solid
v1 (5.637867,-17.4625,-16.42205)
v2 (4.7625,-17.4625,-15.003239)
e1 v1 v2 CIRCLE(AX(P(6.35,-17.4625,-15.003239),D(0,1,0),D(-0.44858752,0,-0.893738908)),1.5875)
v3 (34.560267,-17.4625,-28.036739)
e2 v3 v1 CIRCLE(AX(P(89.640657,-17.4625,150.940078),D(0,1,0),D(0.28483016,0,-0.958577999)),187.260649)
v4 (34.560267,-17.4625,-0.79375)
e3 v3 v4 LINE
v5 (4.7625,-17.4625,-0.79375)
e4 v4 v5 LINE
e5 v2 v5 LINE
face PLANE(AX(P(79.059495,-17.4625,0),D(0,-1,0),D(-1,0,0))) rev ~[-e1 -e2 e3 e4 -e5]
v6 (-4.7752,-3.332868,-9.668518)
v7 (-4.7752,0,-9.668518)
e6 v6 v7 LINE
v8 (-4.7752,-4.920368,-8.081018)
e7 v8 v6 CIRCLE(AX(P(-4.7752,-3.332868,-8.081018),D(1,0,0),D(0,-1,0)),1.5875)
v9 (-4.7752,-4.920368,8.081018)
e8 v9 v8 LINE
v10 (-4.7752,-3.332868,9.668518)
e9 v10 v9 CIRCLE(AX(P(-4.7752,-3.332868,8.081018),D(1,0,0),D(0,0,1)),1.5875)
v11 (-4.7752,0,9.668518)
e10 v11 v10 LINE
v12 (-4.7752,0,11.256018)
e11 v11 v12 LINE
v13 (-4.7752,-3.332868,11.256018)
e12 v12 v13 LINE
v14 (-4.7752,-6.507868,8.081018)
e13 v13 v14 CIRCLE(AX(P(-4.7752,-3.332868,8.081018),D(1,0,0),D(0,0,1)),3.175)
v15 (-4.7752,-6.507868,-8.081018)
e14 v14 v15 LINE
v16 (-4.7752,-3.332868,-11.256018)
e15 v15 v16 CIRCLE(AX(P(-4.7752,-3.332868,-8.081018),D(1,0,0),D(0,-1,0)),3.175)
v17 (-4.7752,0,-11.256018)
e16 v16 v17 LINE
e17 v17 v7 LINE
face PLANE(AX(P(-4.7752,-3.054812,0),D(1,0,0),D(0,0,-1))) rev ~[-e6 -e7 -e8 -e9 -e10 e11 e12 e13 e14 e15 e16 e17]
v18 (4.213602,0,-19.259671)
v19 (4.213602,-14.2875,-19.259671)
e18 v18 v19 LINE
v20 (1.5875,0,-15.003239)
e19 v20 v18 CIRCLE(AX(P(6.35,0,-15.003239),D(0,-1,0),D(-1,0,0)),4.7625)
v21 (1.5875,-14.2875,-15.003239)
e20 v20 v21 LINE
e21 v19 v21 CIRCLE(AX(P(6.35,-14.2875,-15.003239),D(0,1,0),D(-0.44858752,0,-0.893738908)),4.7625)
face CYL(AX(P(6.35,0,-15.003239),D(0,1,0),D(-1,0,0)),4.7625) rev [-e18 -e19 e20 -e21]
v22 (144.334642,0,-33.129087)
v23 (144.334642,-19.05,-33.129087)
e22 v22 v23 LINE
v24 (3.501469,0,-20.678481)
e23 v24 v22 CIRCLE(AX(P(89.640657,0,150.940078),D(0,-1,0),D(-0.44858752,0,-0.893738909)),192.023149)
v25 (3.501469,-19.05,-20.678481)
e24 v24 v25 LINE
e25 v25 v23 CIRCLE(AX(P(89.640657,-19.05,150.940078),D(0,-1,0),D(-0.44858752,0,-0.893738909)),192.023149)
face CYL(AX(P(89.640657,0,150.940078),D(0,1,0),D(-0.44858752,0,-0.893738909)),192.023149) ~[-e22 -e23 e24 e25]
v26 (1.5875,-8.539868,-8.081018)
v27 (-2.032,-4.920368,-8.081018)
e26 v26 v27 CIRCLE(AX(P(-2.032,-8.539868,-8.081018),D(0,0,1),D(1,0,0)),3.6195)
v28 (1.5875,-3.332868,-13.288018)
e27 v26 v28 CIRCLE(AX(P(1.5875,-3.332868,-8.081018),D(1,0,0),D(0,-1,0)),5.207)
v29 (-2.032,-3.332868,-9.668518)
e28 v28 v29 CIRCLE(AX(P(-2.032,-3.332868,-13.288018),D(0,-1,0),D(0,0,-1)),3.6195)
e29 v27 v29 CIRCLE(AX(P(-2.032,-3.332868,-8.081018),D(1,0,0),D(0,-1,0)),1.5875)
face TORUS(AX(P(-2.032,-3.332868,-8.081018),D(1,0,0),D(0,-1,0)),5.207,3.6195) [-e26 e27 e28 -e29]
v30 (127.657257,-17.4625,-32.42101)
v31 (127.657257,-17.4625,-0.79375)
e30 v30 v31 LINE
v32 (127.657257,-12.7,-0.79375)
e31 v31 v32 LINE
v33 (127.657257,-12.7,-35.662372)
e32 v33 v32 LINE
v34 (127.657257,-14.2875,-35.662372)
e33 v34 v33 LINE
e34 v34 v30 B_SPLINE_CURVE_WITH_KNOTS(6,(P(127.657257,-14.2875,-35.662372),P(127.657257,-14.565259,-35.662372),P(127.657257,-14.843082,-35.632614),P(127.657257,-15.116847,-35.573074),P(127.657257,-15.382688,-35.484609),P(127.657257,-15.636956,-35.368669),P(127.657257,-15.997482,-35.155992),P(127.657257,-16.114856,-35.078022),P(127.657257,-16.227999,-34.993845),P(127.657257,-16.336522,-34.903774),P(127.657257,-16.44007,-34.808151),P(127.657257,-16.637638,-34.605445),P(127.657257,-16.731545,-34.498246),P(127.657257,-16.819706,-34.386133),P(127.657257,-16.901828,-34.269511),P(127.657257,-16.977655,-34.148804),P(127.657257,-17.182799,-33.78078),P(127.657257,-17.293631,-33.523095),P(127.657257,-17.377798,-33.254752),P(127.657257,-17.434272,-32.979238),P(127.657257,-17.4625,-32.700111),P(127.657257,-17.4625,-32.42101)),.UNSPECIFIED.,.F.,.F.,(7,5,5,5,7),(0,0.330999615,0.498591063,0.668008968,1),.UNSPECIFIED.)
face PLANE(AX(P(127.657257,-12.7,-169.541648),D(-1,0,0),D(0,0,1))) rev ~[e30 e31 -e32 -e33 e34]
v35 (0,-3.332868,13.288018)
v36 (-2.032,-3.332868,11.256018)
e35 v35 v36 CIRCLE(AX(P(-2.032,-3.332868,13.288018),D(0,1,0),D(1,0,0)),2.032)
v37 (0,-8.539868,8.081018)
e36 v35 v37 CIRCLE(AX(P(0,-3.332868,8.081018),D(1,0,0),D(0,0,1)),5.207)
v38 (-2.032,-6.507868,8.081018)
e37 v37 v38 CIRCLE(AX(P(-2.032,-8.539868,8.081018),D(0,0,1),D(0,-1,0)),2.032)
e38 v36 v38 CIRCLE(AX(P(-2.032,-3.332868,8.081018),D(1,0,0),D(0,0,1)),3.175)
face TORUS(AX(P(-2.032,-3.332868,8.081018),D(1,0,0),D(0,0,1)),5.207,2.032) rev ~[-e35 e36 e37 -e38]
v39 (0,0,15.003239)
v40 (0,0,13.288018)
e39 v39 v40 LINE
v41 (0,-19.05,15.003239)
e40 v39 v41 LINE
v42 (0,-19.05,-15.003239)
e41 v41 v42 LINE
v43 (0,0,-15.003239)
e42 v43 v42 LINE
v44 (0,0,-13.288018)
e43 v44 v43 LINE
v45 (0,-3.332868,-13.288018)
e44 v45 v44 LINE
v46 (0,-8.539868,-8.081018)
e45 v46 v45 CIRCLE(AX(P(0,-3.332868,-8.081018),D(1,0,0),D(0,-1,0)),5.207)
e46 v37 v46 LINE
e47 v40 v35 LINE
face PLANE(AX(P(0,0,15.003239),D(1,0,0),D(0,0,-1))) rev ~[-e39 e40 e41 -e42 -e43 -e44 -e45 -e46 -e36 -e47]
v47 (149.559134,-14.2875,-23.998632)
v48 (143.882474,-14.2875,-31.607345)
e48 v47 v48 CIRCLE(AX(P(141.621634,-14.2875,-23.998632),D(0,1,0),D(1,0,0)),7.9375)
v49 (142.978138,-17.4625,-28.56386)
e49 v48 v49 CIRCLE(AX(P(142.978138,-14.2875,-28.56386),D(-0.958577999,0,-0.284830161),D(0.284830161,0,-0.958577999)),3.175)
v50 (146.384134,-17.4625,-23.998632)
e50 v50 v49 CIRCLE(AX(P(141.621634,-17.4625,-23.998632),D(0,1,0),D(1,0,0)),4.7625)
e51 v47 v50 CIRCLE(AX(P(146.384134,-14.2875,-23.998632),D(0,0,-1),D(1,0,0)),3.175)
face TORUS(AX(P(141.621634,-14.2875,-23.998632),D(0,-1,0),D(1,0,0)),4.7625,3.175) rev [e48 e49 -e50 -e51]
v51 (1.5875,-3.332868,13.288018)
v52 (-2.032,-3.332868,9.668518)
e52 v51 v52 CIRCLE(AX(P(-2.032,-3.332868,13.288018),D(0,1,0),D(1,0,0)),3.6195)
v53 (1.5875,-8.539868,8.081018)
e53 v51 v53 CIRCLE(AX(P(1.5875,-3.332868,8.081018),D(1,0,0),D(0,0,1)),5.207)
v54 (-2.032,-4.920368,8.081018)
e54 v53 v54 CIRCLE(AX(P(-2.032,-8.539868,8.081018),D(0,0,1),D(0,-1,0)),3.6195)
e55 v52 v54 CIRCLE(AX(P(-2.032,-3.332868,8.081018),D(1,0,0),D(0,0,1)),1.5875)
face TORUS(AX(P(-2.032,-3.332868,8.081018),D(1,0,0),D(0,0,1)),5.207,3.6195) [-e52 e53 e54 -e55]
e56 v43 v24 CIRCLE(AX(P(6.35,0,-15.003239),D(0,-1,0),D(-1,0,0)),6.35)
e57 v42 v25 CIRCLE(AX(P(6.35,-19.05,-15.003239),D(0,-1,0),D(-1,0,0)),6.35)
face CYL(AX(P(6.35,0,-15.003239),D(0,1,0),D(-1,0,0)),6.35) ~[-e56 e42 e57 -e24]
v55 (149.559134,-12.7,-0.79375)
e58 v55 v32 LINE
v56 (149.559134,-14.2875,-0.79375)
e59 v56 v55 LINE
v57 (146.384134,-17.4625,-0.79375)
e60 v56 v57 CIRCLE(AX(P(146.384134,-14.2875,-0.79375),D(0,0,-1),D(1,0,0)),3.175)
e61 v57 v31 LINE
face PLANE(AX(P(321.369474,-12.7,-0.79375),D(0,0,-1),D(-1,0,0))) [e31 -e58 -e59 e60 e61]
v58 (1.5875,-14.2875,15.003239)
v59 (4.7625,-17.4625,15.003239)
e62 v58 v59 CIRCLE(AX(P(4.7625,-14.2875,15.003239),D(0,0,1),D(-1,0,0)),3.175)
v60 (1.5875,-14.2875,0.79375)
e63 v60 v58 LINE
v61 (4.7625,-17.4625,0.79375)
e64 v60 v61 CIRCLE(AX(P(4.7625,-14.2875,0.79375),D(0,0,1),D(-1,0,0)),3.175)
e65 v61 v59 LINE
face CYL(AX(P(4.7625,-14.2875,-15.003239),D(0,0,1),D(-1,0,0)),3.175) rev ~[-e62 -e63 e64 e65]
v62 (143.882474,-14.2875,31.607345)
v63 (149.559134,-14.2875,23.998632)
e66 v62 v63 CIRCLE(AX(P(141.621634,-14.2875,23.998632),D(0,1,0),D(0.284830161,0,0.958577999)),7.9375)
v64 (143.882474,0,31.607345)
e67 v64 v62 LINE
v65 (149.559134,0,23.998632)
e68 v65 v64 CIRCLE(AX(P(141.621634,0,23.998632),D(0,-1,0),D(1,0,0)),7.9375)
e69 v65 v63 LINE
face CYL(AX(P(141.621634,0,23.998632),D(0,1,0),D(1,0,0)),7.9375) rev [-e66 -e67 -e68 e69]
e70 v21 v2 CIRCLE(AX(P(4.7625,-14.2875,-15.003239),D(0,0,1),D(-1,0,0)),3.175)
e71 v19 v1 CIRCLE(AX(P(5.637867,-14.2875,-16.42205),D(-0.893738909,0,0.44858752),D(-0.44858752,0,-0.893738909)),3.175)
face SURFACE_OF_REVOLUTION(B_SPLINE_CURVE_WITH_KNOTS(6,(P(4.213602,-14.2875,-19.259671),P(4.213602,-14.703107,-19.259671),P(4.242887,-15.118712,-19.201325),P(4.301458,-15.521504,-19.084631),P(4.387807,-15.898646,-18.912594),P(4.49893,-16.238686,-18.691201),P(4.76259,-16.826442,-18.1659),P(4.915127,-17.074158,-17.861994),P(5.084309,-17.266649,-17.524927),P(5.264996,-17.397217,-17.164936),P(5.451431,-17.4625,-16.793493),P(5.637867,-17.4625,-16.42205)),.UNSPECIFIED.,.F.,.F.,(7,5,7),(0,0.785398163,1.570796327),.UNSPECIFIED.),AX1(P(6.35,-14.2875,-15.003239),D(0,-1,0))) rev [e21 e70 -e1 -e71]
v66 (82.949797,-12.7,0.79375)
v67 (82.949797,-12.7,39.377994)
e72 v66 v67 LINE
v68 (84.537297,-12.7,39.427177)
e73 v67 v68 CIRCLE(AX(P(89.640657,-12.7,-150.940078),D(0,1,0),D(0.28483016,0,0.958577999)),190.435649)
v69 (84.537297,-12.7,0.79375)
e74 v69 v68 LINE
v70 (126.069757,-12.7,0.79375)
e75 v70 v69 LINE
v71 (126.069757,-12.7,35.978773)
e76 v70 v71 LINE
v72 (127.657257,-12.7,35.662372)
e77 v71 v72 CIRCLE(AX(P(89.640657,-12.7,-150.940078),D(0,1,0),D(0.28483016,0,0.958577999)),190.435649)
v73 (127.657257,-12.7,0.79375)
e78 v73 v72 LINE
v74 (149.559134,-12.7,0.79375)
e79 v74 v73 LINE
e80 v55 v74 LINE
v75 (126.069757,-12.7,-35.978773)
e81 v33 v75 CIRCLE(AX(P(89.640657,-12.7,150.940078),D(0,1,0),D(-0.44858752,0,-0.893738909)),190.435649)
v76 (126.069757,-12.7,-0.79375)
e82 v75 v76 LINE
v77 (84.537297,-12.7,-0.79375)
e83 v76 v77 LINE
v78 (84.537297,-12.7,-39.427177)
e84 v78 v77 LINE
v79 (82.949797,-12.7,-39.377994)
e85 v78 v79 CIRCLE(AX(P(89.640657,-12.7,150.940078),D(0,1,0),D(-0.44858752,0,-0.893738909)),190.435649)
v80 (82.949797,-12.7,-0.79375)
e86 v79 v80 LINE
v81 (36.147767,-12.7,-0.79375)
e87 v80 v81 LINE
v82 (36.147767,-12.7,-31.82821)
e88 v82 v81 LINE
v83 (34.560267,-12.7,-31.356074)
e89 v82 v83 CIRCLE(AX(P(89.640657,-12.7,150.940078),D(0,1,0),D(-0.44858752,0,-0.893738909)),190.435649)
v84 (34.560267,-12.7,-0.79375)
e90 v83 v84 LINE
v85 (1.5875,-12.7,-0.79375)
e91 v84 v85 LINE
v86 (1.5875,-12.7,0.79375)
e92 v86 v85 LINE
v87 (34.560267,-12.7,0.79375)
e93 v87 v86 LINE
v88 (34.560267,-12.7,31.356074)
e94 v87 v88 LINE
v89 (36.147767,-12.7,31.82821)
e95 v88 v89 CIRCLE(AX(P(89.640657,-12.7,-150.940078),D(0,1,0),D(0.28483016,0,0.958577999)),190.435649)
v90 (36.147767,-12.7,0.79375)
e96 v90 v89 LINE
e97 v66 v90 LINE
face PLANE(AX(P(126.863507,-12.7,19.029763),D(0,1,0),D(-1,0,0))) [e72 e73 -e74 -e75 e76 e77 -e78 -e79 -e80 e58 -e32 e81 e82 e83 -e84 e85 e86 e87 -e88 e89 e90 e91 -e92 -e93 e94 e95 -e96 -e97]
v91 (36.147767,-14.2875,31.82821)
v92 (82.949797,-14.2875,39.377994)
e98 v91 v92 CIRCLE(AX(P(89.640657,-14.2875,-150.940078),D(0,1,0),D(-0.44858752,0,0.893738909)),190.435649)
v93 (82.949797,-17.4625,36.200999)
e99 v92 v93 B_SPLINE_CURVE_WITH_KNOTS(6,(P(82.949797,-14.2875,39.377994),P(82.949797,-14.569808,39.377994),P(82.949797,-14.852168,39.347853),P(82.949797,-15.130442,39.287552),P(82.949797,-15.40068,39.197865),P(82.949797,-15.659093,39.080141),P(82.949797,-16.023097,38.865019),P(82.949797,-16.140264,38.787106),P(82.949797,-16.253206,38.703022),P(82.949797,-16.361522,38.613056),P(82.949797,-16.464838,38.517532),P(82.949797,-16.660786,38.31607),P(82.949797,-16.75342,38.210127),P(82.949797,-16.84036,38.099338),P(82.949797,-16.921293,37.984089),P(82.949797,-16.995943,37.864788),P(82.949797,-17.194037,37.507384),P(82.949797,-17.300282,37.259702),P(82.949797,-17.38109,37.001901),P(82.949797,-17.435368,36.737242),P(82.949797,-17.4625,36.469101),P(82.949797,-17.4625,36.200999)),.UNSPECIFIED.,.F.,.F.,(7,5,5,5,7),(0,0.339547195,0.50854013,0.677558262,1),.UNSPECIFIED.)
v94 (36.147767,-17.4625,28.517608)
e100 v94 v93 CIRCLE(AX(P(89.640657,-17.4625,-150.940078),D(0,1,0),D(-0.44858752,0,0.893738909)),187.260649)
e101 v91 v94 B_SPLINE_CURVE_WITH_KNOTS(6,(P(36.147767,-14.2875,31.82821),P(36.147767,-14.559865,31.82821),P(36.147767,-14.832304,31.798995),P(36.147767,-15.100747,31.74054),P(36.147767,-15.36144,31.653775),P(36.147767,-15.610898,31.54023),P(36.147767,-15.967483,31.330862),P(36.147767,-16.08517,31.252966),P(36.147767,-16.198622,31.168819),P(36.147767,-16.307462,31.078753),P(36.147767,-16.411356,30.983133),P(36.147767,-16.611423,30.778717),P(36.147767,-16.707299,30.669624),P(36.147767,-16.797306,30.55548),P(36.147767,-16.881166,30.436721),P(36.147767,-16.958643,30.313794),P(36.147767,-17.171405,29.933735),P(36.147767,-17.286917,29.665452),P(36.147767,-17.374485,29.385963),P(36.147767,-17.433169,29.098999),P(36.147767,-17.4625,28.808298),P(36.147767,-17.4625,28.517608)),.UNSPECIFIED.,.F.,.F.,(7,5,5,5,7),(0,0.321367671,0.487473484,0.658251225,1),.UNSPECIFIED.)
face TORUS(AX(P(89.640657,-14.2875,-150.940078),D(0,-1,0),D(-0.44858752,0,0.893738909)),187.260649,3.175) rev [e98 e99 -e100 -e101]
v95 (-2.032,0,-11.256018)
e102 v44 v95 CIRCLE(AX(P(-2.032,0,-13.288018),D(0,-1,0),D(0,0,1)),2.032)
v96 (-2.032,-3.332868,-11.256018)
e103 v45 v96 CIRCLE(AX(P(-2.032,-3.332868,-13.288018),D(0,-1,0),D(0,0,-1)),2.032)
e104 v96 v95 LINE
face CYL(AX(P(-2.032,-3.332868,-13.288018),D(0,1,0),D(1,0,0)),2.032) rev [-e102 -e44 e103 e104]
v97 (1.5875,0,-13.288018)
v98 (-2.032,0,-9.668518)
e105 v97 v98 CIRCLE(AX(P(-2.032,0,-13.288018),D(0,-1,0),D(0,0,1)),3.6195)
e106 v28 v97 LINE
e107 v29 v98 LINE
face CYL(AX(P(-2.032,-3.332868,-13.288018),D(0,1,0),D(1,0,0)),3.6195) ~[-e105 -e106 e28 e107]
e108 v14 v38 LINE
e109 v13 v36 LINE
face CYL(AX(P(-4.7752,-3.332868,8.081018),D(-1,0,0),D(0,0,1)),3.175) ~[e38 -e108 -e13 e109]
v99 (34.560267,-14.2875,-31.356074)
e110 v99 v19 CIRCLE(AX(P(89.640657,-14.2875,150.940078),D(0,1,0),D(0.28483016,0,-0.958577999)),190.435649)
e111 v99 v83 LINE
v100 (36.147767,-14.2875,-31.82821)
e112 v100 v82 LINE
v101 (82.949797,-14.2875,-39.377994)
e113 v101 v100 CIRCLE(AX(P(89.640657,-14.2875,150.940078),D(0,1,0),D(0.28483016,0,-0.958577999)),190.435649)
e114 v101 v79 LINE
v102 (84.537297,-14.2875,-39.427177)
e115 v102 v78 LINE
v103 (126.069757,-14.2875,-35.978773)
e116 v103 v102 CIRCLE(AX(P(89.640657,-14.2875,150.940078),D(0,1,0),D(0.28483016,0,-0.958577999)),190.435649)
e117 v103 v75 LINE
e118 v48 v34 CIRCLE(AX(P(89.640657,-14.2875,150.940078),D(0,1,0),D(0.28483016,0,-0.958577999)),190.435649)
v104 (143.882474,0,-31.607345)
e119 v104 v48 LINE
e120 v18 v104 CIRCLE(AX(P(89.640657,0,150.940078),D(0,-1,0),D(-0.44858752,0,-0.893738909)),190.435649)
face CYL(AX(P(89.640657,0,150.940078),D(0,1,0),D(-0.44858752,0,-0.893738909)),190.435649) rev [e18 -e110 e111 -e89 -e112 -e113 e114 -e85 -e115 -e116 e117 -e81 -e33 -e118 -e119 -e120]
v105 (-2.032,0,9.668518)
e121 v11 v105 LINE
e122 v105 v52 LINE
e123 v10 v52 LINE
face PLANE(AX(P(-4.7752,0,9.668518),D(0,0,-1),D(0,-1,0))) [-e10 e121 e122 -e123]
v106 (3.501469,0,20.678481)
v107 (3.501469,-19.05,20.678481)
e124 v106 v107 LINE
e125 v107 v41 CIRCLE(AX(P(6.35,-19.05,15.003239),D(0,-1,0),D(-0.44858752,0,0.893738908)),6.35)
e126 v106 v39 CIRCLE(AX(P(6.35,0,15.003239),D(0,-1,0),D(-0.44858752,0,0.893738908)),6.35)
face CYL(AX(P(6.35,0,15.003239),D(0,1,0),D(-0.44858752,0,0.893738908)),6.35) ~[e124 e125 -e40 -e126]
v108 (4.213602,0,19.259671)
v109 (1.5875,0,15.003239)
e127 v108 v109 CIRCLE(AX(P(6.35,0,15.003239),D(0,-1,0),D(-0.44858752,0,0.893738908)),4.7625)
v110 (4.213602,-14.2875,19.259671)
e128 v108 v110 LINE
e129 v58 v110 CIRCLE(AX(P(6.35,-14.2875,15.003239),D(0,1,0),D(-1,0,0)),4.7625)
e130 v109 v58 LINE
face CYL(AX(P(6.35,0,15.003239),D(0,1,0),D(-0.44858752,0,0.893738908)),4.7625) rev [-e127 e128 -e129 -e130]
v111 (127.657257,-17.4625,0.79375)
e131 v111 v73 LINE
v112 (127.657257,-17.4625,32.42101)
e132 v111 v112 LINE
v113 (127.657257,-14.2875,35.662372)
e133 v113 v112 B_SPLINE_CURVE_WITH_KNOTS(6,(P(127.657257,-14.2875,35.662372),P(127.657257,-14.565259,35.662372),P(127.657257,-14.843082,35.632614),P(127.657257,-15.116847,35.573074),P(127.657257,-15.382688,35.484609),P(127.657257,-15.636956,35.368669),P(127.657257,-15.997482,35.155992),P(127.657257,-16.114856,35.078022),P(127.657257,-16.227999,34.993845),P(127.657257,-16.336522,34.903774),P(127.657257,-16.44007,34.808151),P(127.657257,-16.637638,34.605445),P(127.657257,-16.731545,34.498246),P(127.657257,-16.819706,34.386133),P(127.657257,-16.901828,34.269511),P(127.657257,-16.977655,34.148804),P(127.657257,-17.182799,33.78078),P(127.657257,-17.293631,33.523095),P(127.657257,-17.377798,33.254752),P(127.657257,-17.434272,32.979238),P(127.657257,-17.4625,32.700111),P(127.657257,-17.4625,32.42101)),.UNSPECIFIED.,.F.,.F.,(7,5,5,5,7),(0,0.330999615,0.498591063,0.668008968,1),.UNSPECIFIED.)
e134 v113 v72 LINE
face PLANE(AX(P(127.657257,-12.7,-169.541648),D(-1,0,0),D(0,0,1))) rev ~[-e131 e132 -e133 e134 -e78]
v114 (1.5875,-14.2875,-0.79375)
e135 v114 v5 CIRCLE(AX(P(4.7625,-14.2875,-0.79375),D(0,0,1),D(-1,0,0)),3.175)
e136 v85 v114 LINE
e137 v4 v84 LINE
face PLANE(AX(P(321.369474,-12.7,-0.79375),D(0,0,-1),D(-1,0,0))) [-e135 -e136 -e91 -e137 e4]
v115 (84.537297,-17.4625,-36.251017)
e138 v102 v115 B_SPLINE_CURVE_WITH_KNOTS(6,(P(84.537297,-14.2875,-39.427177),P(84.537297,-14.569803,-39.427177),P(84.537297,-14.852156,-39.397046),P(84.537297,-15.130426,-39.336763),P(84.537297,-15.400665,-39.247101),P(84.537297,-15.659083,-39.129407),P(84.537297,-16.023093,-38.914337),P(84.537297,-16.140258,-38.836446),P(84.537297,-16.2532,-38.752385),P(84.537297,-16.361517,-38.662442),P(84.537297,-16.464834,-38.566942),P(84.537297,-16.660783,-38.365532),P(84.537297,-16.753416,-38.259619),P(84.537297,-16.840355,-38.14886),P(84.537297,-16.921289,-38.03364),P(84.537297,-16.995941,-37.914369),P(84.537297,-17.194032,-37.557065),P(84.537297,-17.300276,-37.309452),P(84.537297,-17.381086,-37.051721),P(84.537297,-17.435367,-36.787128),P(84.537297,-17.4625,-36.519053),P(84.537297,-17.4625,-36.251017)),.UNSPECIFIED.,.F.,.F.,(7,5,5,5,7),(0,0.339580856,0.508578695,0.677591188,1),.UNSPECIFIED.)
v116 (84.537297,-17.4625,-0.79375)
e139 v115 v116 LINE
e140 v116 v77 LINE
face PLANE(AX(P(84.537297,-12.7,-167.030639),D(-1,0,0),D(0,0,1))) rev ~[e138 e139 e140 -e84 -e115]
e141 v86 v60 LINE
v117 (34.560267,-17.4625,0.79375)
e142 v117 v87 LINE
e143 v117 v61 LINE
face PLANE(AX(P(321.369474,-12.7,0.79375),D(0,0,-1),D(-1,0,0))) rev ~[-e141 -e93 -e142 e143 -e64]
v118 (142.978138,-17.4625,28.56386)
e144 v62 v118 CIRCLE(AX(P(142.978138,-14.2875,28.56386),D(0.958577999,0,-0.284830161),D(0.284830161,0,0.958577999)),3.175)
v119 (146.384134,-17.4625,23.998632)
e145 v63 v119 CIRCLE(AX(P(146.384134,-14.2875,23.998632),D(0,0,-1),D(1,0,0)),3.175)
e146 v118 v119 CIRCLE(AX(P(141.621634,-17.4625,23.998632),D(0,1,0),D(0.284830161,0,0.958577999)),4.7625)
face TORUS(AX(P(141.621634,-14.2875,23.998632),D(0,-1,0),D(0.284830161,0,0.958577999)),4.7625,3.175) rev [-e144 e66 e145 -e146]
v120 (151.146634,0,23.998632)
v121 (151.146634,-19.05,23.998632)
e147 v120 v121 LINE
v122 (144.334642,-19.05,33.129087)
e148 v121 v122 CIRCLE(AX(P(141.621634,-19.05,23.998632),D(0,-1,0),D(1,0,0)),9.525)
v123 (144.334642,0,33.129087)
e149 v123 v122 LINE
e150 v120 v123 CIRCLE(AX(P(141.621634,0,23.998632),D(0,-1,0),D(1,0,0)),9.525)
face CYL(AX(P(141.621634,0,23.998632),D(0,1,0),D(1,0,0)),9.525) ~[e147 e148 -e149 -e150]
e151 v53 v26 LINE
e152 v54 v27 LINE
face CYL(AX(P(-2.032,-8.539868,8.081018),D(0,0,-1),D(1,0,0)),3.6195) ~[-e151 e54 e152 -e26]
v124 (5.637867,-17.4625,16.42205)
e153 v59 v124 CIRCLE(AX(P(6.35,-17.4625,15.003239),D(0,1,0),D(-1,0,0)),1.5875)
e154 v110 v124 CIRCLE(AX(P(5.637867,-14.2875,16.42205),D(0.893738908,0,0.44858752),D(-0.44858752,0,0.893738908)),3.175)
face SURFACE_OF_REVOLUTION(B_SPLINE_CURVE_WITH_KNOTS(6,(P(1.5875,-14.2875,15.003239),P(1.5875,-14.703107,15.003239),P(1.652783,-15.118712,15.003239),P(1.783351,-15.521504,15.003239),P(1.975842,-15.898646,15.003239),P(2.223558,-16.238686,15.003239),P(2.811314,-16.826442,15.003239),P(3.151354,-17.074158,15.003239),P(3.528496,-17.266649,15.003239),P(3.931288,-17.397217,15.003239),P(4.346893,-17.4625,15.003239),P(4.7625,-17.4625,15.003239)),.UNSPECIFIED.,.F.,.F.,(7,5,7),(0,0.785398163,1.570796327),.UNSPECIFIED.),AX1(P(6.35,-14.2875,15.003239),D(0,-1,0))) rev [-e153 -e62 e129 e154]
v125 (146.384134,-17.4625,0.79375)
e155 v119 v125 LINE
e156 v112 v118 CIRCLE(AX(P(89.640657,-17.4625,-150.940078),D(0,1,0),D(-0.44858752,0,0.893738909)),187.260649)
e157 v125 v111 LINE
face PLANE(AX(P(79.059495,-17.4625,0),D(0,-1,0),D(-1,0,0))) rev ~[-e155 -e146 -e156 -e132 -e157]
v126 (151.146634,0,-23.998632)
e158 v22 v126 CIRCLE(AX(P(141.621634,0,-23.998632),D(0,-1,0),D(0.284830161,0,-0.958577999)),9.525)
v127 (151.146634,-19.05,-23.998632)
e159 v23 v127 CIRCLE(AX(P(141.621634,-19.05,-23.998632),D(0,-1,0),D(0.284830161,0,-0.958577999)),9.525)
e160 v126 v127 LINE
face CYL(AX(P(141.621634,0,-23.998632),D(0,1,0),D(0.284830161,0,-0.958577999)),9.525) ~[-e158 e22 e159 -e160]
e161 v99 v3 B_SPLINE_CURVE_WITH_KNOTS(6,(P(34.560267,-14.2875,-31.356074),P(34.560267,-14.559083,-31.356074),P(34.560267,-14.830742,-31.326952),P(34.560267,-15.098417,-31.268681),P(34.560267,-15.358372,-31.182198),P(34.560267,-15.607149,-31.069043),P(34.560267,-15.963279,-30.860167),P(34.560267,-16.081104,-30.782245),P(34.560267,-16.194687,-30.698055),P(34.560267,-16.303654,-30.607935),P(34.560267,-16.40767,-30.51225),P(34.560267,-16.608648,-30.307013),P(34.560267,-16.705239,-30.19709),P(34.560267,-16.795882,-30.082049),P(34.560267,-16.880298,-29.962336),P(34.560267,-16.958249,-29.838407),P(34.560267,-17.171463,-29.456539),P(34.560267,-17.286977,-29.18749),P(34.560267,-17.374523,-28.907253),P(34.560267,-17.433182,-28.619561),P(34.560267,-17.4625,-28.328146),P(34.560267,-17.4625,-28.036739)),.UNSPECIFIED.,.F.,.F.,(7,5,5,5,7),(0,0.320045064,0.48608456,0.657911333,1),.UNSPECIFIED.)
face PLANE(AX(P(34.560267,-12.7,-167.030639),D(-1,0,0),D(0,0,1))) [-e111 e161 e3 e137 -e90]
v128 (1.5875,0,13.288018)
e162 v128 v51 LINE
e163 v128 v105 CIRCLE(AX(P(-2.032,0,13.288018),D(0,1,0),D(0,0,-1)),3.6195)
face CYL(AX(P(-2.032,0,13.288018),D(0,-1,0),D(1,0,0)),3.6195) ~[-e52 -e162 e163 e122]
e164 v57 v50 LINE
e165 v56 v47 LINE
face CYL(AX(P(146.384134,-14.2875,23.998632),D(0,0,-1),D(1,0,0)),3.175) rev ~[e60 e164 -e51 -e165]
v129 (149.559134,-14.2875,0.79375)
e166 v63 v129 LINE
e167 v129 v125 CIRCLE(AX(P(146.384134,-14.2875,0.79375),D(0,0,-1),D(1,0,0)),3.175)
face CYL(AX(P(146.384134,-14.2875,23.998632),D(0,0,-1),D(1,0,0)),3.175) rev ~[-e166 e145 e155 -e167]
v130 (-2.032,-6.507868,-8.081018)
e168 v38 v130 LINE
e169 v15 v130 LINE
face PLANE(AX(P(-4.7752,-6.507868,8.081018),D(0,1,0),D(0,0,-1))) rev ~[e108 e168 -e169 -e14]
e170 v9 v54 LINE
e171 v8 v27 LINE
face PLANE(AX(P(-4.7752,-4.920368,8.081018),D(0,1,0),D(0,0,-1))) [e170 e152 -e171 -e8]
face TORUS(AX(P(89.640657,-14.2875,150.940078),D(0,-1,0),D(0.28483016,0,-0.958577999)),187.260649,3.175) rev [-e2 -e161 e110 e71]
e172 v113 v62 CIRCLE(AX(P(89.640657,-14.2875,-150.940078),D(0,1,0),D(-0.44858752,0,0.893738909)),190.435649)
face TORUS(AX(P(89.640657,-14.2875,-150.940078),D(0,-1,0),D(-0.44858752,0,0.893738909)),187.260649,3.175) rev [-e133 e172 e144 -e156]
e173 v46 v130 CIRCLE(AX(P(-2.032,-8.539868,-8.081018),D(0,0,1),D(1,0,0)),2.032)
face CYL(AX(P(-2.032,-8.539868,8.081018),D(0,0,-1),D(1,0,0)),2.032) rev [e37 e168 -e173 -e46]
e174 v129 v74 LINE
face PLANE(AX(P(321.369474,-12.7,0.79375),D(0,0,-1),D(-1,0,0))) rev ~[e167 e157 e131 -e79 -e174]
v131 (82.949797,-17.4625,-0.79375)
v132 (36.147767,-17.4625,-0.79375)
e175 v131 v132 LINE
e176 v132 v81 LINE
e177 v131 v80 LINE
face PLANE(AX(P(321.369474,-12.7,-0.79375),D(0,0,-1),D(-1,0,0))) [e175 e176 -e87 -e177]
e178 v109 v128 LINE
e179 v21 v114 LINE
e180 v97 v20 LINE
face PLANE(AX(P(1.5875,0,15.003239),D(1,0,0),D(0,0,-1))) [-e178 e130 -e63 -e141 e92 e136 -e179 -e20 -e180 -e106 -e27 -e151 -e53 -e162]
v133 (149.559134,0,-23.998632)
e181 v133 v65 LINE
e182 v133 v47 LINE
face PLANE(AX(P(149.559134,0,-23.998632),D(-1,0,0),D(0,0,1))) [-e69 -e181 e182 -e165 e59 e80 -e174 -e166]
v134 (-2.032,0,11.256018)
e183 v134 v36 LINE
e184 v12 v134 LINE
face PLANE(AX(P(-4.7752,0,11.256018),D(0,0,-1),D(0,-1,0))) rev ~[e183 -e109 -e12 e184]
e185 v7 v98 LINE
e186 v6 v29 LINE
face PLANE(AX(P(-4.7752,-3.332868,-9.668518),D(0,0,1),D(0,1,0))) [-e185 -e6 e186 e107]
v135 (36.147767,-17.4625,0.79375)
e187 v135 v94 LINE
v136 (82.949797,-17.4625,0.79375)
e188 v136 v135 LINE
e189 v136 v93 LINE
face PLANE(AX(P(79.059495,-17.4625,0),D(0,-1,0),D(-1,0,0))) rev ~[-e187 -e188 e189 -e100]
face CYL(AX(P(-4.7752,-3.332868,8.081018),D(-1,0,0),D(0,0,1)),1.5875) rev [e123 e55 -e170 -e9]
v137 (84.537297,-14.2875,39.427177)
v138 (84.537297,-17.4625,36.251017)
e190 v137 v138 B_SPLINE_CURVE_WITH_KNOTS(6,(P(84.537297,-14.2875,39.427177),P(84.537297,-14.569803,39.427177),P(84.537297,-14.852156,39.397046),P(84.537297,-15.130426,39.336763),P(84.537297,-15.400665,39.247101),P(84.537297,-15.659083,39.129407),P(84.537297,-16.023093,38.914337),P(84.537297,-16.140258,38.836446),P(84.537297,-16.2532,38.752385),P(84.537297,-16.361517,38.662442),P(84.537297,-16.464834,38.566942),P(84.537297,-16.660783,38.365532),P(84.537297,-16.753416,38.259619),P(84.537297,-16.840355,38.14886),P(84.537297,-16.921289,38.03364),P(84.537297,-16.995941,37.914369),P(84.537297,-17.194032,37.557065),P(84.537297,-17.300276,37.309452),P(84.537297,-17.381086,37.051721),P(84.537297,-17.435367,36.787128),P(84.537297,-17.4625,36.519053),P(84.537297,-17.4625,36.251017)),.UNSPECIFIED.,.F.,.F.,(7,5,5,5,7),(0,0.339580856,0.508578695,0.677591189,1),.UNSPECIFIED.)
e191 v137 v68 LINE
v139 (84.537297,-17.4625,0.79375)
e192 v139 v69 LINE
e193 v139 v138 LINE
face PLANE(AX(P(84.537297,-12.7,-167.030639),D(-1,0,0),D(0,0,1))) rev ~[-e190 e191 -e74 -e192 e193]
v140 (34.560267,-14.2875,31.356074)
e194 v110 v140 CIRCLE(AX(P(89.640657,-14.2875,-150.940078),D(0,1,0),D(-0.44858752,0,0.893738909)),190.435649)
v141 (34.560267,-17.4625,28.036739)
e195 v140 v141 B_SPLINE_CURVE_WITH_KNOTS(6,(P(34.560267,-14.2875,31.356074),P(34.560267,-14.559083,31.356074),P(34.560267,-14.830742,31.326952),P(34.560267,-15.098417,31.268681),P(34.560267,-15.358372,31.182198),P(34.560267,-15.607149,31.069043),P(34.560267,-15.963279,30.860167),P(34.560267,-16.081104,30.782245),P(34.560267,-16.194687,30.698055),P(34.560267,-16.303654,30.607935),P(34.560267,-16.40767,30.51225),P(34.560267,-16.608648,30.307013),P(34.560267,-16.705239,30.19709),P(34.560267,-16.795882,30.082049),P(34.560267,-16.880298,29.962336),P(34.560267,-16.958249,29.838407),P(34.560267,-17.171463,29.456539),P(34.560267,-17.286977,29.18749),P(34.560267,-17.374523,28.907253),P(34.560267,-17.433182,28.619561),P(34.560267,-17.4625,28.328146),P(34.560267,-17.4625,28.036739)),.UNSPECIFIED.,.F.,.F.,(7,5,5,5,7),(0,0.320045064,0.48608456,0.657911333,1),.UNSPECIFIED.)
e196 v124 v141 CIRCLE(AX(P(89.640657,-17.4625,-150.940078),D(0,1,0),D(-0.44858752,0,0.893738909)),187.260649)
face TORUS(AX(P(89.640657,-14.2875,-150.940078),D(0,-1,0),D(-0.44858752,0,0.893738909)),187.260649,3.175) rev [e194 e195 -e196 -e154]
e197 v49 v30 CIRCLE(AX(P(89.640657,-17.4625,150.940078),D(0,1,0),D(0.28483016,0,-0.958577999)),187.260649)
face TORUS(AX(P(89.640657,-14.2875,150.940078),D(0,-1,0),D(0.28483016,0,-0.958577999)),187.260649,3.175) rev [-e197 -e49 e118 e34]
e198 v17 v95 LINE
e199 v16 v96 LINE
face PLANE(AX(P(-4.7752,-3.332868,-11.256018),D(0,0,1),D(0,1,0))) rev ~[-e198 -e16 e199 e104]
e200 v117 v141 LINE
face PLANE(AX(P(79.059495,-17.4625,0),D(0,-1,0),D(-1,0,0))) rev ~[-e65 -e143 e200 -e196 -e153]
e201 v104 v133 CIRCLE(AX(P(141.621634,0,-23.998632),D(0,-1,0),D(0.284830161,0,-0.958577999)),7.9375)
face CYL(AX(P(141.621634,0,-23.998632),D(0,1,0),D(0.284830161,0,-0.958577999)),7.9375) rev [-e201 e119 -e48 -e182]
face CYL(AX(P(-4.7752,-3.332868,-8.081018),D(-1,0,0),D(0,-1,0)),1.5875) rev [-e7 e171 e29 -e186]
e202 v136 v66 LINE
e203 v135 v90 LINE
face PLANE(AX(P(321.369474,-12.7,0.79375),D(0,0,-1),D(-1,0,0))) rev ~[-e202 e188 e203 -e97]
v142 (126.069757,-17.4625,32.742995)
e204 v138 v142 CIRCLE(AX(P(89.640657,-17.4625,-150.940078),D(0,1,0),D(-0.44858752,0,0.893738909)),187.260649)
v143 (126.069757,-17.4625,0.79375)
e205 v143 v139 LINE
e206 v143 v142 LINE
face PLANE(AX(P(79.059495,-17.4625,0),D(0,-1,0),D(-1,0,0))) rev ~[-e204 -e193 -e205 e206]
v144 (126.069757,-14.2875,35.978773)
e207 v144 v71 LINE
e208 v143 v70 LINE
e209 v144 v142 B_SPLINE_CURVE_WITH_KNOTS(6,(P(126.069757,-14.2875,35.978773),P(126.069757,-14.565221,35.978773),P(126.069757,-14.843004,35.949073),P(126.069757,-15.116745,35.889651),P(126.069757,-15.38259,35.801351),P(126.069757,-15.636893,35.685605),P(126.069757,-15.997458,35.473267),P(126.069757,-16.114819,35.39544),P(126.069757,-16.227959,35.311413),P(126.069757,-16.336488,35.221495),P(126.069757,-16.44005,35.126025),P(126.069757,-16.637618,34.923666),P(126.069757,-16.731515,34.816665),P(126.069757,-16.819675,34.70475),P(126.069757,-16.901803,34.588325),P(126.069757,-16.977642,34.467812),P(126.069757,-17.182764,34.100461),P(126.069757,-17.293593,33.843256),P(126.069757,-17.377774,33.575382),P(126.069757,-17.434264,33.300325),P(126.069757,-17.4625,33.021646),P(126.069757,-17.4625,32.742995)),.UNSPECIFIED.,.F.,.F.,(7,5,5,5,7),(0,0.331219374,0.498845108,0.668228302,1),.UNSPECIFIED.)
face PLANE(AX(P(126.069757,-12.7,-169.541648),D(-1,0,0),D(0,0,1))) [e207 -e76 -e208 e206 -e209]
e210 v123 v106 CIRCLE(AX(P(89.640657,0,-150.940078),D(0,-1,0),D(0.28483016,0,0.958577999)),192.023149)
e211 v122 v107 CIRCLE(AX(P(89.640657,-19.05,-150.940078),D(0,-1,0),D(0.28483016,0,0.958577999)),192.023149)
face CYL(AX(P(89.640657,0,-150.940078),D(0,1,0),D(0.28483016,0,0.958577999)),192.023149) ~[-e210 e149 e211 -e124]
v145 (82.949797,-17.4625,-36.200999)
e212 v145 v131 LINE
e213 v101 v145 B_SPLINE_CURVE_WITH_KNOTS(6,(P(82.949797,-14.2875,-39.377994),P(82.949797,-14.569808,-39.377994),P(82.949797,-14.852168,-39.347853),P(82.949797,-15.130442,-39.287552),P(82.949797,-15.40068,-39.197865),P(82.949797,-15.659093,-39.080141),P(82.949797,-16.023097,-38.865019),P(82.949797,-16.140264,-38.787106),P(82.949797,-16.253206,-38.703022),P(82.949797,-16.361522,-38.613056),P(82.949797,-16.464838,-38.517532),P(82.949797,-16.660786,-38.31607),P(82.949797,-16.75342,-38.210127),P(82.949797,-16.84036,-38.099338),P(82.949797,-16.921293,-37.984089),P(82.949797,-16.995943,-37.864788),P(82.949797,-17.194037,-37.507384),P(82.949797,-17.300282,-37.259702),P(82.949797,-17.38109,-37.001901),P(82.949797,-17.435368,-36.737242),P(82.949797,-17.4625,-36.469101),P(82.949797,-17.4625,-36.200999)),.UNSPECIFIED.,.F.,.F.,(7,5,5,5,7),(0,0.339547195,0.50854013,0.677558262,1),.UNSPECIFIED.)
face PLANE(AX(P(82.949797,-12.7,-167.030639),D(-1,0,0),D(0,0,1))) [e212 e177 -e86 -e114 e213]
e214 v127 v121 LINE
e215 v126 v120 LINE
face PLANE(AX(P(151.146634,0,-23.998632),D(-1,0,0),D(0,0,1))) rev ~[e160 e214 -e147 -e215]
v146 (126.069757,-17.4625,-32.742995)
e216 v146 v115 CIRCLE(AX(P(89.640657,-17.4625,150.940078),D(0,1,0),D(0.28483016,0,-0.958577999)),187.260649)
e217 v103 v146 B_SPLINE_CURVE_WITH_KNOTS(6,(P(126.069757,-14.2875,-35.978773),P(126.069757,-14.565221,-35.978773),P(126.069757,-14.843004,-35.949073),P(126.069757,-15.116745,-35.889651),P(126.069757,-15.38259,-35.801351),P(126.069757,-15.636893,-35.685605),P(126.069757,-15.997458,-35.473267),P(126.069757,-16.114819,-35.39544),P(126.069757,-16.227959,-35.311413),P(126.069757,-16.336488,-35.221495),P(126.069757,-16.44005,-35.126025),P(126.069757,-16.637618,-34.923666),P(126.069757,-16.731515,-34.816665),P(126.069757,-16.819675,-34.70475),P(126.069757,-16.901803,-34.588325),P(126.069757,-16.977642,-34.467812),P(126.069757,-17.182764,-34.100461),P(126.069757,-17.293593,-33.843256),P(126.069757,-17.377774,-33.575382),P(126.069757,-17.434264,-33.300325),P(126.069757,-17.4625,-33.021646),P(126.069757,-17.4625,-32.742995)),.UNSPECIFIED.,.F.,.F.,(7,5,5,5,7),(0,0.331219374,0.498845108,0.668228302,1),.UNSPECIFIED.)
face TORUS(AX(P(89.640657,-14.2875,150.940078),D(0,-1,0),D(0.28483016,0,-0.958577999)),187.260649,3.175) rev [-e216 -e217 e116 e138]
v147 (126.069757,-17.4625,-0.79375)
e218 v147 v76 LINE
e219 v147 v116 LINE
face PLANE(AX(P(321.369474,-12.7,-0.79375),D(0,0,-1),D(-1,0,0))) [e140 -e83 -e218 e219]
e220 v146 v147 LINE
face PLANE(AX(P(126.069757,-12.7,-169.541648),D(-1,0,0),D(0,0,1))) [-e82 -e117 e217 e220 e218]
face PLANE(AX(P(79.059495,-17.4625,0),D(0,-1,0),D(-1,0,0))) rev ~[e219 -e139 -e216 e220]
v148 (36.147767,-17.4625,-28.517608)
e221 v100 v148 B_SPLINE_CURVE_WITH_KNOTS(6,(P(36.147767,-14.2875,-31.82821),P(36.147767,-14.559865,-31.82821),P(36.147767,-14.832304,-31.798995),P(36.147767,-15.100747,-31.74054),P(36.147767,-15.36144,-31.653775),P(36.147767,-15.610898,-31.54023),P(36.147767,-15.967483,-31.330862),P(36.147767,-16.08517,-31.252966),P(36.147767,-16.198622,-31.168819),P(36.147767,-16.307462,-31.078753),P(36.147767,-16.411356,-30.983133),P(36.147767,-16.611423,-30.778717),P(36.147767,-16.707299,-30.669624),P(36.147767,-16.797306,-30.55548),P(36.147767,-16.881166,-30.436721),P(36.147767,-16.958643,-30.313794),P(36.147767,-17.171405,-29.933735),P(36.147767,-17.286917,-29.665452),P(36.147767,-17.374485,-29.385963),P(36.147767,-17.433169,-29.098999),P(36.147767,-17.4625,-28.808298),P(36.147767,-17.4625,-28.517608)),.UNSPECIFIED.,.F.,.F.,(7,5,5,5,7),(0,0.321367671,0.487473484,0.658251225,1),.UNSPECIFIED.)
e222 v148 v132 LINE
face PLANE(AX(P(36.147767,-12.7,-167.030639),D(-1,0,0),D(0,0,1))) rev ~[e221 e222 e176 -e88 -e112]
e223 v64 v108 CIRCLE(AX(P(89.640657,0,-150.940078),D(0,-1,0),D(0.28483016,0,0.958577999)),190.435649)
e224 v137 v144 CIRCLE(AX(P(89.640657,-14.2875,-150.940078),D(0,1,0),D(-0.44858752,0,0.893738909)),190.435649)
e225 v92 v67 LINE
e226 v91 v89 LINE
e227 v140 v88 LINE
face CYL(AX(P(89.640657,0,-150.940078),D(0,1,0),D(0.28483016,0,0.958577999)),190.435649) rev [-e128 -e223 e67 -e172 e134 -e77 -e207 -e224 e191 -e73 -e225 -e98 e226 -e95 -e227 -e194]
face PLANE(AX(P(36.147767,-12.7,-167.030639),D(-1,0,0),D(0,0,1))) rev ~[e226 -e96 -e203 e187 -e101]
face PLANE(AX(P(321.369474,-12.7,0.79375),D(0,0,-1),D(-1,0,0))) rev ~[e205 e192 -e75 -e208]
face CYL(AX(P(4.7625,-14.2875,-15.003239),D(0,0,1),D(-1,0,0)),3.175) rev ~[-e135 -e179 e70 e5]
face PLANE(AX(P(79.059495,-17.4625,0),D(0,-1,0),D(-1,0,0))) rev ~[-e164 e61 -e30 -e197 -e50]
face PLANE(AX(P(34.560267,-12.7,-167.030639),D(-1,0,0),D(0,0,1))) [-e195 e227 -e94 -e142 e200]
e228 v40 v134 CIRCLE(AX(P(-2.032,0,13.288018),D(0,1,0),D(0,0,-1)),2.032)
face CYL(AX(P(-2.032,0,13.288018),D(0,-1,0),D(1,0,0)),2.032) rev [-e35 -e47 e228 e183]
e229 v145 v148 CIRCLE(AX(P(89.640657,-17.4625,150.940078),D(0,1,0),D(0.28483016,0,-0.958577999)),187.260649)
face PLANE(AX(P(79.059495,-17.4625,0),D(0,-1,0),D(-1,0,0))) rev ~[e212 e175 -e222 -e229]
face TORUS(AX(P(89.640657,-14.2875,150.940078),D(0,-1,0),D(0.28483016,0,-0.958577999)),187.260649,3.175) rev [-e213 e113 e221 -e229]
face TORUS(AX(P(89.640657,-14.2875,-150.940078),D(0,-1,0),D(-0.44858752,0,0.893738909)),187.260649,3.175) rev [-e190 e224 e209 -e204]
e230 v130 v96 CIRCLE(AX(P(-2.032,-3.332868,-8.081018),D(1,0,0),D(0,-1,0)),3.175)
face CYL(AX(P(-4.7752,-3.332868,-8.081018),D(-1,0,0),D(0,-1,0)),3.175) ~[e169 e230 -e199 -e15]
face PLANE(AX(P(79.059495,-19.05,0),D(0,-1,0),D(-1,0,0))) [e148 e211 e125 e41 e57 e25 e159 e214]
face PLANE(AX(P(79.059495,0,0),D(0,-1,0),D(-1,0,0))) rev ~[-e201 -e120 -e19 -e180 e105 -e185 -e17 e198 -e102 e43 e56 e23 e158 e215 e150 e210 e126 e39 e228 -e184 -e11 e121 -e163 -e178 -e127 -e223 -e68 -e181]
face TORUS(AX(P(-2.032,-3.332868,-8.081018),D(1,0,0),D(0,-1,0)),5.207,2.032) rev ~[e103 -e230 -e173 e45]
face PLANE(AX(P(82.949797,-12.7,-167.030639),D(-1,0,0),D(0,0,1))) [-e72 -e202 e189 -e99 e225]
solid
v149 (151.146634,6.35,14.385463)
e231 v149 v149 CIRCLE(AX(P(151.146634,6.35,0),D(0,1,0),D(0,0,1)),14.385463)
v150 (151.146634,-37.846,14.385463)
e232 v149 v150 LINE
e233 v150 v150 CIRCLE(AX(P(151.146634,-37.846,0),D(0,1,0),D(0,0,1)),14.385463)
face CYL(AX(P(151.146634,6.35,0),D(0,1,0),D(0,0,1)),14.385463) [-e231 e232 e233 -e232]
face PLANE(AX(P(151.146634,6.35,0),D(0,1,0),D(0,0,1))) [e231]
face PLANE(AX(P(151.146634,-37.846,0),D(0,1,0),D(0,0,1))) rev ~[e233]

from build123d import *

# Parameters (mm, degrees)
BOSS_EXTRUDE1_DEPTH = 19.05
BOSS_EXTRUDE2_REACH = 164.365
FILLET2_R           = 2.032
SHELL1_T            = -1.5875
SKETCH6_R           = 14.38546282
BOSS_EXTRUDE3_DEPTH = 44.196
FILLET3_R           = 3.175
RIB1_REACH          = 174.398
SKETCH3_WALLS_W     = 491.592314098
SKETCH3_WALLS_H     = 1.5875
SKETCH3_WALLS_W_2   = 1.5875
SKETCH3_WALLS_H_2   = 370.365662837
SKETCH3_WALLS_H_3   = 364.731456944
SKETCH3_WALLS_H_4   = 378.244453173
SKETCH3_WALLS_H_5   = 370.112190103
SKETCH3_WALLS_H_6   = 377.142820727
SKETCH3_WALLS_H_7   = 367.242465752


with BuildPart() as part:
    # Sketch1 → Boss-Extrude1 (new body)
    with BuildSketch(Plane(origin=(0, 0, 0), x_dir=(1, 0, 0), z_dir=(0, 1, 0))):
        with BuildLine():
            Line((151.14663435, 23.998631985), (151.14663435, -23.998631985))
            ThreePointArc((151.14663435, -23.998631985), (149.255998086, -29.694430028), (144.334641628, -33.129087424))
            ThreePointArc((144.334641628, -33.129087424), (72.730464863, -40.337037619), (3.501469246, -20.678481157))
            ThreePointArc((3.501469246, -20.678481157), (0.945803932, -18.337480359), (0, -15.003239088))
            Line((0, -15.003239088), (0, 15.003239088))
            ThreePointArc((0, 15.003239088), (0.945803932, 18.337480359), (3.501469246, 20.678481157))
            ThreePointArc((3.501469246, 20.678481157), (72.730464863, 40.337037619), (144.334641628, 33.129087424))
            ThreePointArc((144.334641628, 33.129087424), (149.255998086, 29.694430028), (151.14663435, 23.998631985))
        make_face()
    extrude(amount=-BOSS_EXTRUDE1_DEPTH)

    # Sketch2 → Boss-Extrude2 (add, up to next)
    with BuildSketch(Plane.ZY.offset(4.7752), mode=Mode.PRIVATE) as boss_extrude2_sk1:
        with BuildLine():
            Line((0, 0), (11.256017669, 0))
            Line((11.256017669, 0), (11.256017669, -3.332868092))
            ThreePointArc((11.256017669, -3.332868092), (10.326081699, -5.577932122), (8.081017669, -6.507868092))
            Line((8.081017669, -6.507868092), (-8.081017669, -6.507868092))
            ThreePointArc((-8.081017669, -6.507868092), (-10.326081699, -5.577932122), (-11.256017669, -3.332868092))
            Line((-11.256017669, -3.332868092), (-11.256017669, 0))
            Line((-11.256017669, 0), (0, 0))
        make_face()
    boss_extrude2_tool1 = extrude(boss_extrude2_sk1.sketch, amount=-BOSS_EXTRUDE2_REACH, mode=Mode.PRIVATE) - part.part
    add(boss_extrude2_tool1.solids().sort_by_distance((-4.7752, -3.176495, 0))[0])

    # Fillet2
    fillet2_edges = [part.edges().sort_by_distance(p)[0] for p in [
        (0, -1.666434046, -11.256017669),
        (0, -1.666434046, 11.256017669),
        (0, -5.577932122, 10.326081699),
        (0, -6.507868092, 0),
        (0, -5.577932122, -10.326081699),
    ]]
    fillet(fillet2_edges, radius=FILLET2_R)

    # Shell1
    shell1_openings = [part.faces().sort_by_distance(p)[0] for p in [
        (-4.7752, -3.176495023, 0),
        (78.808938496, 0, 0),
    ]]
    offset(amount=SHELL1_T, openings=shell1_openings)

    # Fillet3
    fillet3_edges = [part.edges().sort_by_distance(p)[0] for p in [
        (147.98360413, -17.4625, 28.745130354),
        (72.870265354, -17.4625, 38.755705246),
        (1.5875, -17.4625, 0),
        (2.296852949, -17.4625, -17.503920041),
        (147.98360413, -17.4625, -28.745130354),
        (149.55913435, -17.4625, 0),
        (2.296852949, -17.4625, 17.503920041),
        (72.870265354, -17.4625, -38.755705246),
    ]]
    fillet(fillet3_edges, radius=FILLET3_R)

    # Sketch3 walls → Rib1 (add, up to next)
    with BuildSketch(Plane(origin=(0, -12.7, 0), x_dir=(-1, 0, 0), z_dir=(0, 1, 0)), mode=Mode.PRIVATE) as rib1_sk1:
        with Locations((-75.573317175, 0)):
            Rectangle(SKETCH3_WALLS_W, SKETCH3_WALLS_H)
    rib1_tool1 = extrude(rib1_sk1.sketch, amount=-RIB1_REACH, mode=Mode.PRIVATE) - part.part
    # Sketch3 walls → Rib1 (add, up to next)
    with BuildSketch(Plane(origin=(0, -12.7, 0), x_dir=(-1, 0, 0), z_dir=(0, 1, 0)), mode=Mode.PRIVATE) as rib1_sk2:
        with Locations((-35.354017225, 18.152192449)):
            Rectangle(SKETCH3_WALLS_W_2, SKETCH3_WALLS_H_2)
    rib1_tool2 = extrude(rib1_sk2.sketch, amount=-RIB1_REACH, mode=Mode.PRIVATE) - part.part
    # Sketch3 walls → Rib1 (add, up to next)
    with BuildSketch(Plane(origin=(0, -12.7, 0), x_dir=(-1, 0, 0), z_dir=(0, 1, 0)), mode=Mode.PRIVATE) as rib1_sk3:
        with Locations((-35.354017225, -12.644722923)):
            Rectangle(SKETCH3_WALLS_W_2, SKETCH3_WALLS_H_3)
    rib1_tool3 = extrude(rib1_sk3.sketch, amount=-RIB1_REACH, mode=Mode.PRIVATE) - part.part
    # Sketch3 walls → Rib1 (add, up to next)
    with BuildSketch(Plane(origin=(0, -12.7, 0), x_dir=(-1, 0, 0), z_dir=(0, 1, 0)), mode=Mode.PRIVATE) as rib1_sk4:
        with Locations((-83.743547004, 22.091587617)):
            Rectangle(SKETCH3_WALLS_W_2, SKETCH3_WALLS_H_4)
    rib1_tool4 = extrude(rib1_sk4.sketch, amount=-RIB1_REACH, mode=Mode.PRIVATE) - part.part
    # Sketch3 walls → Rib1 (add, up to next)
    with BuildSketch(Plane(origin=(0, -12.7, 0), x_dir=(-1, 0, 0), z_dir=(0, 1, 0)), mode=Mode.PRIVATE) as rib1_sk5:
        with Locations((-83.743547004, -15.335089502)):
            Rectangle(SKETCH3_WALLS_W_2, SKETCH3_WALLS_H_5)
    rib1_tool5 = extrude(rib1_sk5.sketch, amount=-RIB1_REACH, mode=Mode.PRIVATE) - part.part
    # Sketch3 walls → Rib1 (add, up to next)
    with BuildSketch(Plane(origin=(0, -12.7, 0), x_dir=(-1, 0, 0), z_dir=(0, 1, 0)), mode=Mode.PRIVATE) as rib1_sk6:
        with Locations((-126.863507058, 19.029762586)):
            Rectangle(SKETCH3_WALLS_W_2, SKETCH3_WALLS_H_6)
    rib1_tool6 = extrude(rib1_sk6.sketch, amount=-RIB1_REACH, mode=Mode.PRIVATE) - part.part
    # Sketch3 walls → Rib1 (add, up to next)
    with BuildSketch(Plane(origin=(0, -12.7, 0), x_dir=(-1, 0, 0), z_dir=(0, 1, 0)), mode=Mode.PRIVATE) as rib1_sk7:
        with Locations((-126.863507058, -13.900227327)):
            Rectangle(SKETCH3_WALLS_W_2, SKETCH3_WALLS_H_7)
    rib1_tool7 = extrude(rib1_sk7.sketch, amount=-RIB1_REACH, mode=Mode.PRIVATE) - part.part
    add(rib1_tool1.solids().sort_by_distance((75.573317175, -12.7, 0))[0])
    add(rib1_tool2.solids().sort_by_distance((35.354017225, -12.7, 18.152192449))[0])
    add(rib1_tool3.solids().sort_by_distance((35.354017225, -12.7, -12.644722923))[0])
    add(rib1_tool4.solids().sort_by_distance((83.743547004, -12.7, 22.091587617))[0])
    add(rib1_tool5.solids().sort_by_distance((83.743547004, -12.7, -15.335089503))[0])
    add(rib1_tool6.solids().sort_by_distance((126.863507058, -12.7, 19.029762586))[0])
    add(rib1_tool7.solids().sort_by_distance((126.863507058, -12.7, -13.900227327))[0])


with BuildPart() as body_2:
    # Sketch6 → Boss-Extrude3 (new body)
    with BuildSketch(Plane(origin=(0, 6.35, 0), x_dir=(-1, 0, 0), z_dir=(0, 1, 0))):
        with Locations(Location((-151.14663435, 0, 0), (0, 0, 90))):
            Circle(SKETCH6_R)
    extrude(amount=-BOSS_EXTRUDE3_DEPTH)


solid = Compound([part.part, body_2.part])
